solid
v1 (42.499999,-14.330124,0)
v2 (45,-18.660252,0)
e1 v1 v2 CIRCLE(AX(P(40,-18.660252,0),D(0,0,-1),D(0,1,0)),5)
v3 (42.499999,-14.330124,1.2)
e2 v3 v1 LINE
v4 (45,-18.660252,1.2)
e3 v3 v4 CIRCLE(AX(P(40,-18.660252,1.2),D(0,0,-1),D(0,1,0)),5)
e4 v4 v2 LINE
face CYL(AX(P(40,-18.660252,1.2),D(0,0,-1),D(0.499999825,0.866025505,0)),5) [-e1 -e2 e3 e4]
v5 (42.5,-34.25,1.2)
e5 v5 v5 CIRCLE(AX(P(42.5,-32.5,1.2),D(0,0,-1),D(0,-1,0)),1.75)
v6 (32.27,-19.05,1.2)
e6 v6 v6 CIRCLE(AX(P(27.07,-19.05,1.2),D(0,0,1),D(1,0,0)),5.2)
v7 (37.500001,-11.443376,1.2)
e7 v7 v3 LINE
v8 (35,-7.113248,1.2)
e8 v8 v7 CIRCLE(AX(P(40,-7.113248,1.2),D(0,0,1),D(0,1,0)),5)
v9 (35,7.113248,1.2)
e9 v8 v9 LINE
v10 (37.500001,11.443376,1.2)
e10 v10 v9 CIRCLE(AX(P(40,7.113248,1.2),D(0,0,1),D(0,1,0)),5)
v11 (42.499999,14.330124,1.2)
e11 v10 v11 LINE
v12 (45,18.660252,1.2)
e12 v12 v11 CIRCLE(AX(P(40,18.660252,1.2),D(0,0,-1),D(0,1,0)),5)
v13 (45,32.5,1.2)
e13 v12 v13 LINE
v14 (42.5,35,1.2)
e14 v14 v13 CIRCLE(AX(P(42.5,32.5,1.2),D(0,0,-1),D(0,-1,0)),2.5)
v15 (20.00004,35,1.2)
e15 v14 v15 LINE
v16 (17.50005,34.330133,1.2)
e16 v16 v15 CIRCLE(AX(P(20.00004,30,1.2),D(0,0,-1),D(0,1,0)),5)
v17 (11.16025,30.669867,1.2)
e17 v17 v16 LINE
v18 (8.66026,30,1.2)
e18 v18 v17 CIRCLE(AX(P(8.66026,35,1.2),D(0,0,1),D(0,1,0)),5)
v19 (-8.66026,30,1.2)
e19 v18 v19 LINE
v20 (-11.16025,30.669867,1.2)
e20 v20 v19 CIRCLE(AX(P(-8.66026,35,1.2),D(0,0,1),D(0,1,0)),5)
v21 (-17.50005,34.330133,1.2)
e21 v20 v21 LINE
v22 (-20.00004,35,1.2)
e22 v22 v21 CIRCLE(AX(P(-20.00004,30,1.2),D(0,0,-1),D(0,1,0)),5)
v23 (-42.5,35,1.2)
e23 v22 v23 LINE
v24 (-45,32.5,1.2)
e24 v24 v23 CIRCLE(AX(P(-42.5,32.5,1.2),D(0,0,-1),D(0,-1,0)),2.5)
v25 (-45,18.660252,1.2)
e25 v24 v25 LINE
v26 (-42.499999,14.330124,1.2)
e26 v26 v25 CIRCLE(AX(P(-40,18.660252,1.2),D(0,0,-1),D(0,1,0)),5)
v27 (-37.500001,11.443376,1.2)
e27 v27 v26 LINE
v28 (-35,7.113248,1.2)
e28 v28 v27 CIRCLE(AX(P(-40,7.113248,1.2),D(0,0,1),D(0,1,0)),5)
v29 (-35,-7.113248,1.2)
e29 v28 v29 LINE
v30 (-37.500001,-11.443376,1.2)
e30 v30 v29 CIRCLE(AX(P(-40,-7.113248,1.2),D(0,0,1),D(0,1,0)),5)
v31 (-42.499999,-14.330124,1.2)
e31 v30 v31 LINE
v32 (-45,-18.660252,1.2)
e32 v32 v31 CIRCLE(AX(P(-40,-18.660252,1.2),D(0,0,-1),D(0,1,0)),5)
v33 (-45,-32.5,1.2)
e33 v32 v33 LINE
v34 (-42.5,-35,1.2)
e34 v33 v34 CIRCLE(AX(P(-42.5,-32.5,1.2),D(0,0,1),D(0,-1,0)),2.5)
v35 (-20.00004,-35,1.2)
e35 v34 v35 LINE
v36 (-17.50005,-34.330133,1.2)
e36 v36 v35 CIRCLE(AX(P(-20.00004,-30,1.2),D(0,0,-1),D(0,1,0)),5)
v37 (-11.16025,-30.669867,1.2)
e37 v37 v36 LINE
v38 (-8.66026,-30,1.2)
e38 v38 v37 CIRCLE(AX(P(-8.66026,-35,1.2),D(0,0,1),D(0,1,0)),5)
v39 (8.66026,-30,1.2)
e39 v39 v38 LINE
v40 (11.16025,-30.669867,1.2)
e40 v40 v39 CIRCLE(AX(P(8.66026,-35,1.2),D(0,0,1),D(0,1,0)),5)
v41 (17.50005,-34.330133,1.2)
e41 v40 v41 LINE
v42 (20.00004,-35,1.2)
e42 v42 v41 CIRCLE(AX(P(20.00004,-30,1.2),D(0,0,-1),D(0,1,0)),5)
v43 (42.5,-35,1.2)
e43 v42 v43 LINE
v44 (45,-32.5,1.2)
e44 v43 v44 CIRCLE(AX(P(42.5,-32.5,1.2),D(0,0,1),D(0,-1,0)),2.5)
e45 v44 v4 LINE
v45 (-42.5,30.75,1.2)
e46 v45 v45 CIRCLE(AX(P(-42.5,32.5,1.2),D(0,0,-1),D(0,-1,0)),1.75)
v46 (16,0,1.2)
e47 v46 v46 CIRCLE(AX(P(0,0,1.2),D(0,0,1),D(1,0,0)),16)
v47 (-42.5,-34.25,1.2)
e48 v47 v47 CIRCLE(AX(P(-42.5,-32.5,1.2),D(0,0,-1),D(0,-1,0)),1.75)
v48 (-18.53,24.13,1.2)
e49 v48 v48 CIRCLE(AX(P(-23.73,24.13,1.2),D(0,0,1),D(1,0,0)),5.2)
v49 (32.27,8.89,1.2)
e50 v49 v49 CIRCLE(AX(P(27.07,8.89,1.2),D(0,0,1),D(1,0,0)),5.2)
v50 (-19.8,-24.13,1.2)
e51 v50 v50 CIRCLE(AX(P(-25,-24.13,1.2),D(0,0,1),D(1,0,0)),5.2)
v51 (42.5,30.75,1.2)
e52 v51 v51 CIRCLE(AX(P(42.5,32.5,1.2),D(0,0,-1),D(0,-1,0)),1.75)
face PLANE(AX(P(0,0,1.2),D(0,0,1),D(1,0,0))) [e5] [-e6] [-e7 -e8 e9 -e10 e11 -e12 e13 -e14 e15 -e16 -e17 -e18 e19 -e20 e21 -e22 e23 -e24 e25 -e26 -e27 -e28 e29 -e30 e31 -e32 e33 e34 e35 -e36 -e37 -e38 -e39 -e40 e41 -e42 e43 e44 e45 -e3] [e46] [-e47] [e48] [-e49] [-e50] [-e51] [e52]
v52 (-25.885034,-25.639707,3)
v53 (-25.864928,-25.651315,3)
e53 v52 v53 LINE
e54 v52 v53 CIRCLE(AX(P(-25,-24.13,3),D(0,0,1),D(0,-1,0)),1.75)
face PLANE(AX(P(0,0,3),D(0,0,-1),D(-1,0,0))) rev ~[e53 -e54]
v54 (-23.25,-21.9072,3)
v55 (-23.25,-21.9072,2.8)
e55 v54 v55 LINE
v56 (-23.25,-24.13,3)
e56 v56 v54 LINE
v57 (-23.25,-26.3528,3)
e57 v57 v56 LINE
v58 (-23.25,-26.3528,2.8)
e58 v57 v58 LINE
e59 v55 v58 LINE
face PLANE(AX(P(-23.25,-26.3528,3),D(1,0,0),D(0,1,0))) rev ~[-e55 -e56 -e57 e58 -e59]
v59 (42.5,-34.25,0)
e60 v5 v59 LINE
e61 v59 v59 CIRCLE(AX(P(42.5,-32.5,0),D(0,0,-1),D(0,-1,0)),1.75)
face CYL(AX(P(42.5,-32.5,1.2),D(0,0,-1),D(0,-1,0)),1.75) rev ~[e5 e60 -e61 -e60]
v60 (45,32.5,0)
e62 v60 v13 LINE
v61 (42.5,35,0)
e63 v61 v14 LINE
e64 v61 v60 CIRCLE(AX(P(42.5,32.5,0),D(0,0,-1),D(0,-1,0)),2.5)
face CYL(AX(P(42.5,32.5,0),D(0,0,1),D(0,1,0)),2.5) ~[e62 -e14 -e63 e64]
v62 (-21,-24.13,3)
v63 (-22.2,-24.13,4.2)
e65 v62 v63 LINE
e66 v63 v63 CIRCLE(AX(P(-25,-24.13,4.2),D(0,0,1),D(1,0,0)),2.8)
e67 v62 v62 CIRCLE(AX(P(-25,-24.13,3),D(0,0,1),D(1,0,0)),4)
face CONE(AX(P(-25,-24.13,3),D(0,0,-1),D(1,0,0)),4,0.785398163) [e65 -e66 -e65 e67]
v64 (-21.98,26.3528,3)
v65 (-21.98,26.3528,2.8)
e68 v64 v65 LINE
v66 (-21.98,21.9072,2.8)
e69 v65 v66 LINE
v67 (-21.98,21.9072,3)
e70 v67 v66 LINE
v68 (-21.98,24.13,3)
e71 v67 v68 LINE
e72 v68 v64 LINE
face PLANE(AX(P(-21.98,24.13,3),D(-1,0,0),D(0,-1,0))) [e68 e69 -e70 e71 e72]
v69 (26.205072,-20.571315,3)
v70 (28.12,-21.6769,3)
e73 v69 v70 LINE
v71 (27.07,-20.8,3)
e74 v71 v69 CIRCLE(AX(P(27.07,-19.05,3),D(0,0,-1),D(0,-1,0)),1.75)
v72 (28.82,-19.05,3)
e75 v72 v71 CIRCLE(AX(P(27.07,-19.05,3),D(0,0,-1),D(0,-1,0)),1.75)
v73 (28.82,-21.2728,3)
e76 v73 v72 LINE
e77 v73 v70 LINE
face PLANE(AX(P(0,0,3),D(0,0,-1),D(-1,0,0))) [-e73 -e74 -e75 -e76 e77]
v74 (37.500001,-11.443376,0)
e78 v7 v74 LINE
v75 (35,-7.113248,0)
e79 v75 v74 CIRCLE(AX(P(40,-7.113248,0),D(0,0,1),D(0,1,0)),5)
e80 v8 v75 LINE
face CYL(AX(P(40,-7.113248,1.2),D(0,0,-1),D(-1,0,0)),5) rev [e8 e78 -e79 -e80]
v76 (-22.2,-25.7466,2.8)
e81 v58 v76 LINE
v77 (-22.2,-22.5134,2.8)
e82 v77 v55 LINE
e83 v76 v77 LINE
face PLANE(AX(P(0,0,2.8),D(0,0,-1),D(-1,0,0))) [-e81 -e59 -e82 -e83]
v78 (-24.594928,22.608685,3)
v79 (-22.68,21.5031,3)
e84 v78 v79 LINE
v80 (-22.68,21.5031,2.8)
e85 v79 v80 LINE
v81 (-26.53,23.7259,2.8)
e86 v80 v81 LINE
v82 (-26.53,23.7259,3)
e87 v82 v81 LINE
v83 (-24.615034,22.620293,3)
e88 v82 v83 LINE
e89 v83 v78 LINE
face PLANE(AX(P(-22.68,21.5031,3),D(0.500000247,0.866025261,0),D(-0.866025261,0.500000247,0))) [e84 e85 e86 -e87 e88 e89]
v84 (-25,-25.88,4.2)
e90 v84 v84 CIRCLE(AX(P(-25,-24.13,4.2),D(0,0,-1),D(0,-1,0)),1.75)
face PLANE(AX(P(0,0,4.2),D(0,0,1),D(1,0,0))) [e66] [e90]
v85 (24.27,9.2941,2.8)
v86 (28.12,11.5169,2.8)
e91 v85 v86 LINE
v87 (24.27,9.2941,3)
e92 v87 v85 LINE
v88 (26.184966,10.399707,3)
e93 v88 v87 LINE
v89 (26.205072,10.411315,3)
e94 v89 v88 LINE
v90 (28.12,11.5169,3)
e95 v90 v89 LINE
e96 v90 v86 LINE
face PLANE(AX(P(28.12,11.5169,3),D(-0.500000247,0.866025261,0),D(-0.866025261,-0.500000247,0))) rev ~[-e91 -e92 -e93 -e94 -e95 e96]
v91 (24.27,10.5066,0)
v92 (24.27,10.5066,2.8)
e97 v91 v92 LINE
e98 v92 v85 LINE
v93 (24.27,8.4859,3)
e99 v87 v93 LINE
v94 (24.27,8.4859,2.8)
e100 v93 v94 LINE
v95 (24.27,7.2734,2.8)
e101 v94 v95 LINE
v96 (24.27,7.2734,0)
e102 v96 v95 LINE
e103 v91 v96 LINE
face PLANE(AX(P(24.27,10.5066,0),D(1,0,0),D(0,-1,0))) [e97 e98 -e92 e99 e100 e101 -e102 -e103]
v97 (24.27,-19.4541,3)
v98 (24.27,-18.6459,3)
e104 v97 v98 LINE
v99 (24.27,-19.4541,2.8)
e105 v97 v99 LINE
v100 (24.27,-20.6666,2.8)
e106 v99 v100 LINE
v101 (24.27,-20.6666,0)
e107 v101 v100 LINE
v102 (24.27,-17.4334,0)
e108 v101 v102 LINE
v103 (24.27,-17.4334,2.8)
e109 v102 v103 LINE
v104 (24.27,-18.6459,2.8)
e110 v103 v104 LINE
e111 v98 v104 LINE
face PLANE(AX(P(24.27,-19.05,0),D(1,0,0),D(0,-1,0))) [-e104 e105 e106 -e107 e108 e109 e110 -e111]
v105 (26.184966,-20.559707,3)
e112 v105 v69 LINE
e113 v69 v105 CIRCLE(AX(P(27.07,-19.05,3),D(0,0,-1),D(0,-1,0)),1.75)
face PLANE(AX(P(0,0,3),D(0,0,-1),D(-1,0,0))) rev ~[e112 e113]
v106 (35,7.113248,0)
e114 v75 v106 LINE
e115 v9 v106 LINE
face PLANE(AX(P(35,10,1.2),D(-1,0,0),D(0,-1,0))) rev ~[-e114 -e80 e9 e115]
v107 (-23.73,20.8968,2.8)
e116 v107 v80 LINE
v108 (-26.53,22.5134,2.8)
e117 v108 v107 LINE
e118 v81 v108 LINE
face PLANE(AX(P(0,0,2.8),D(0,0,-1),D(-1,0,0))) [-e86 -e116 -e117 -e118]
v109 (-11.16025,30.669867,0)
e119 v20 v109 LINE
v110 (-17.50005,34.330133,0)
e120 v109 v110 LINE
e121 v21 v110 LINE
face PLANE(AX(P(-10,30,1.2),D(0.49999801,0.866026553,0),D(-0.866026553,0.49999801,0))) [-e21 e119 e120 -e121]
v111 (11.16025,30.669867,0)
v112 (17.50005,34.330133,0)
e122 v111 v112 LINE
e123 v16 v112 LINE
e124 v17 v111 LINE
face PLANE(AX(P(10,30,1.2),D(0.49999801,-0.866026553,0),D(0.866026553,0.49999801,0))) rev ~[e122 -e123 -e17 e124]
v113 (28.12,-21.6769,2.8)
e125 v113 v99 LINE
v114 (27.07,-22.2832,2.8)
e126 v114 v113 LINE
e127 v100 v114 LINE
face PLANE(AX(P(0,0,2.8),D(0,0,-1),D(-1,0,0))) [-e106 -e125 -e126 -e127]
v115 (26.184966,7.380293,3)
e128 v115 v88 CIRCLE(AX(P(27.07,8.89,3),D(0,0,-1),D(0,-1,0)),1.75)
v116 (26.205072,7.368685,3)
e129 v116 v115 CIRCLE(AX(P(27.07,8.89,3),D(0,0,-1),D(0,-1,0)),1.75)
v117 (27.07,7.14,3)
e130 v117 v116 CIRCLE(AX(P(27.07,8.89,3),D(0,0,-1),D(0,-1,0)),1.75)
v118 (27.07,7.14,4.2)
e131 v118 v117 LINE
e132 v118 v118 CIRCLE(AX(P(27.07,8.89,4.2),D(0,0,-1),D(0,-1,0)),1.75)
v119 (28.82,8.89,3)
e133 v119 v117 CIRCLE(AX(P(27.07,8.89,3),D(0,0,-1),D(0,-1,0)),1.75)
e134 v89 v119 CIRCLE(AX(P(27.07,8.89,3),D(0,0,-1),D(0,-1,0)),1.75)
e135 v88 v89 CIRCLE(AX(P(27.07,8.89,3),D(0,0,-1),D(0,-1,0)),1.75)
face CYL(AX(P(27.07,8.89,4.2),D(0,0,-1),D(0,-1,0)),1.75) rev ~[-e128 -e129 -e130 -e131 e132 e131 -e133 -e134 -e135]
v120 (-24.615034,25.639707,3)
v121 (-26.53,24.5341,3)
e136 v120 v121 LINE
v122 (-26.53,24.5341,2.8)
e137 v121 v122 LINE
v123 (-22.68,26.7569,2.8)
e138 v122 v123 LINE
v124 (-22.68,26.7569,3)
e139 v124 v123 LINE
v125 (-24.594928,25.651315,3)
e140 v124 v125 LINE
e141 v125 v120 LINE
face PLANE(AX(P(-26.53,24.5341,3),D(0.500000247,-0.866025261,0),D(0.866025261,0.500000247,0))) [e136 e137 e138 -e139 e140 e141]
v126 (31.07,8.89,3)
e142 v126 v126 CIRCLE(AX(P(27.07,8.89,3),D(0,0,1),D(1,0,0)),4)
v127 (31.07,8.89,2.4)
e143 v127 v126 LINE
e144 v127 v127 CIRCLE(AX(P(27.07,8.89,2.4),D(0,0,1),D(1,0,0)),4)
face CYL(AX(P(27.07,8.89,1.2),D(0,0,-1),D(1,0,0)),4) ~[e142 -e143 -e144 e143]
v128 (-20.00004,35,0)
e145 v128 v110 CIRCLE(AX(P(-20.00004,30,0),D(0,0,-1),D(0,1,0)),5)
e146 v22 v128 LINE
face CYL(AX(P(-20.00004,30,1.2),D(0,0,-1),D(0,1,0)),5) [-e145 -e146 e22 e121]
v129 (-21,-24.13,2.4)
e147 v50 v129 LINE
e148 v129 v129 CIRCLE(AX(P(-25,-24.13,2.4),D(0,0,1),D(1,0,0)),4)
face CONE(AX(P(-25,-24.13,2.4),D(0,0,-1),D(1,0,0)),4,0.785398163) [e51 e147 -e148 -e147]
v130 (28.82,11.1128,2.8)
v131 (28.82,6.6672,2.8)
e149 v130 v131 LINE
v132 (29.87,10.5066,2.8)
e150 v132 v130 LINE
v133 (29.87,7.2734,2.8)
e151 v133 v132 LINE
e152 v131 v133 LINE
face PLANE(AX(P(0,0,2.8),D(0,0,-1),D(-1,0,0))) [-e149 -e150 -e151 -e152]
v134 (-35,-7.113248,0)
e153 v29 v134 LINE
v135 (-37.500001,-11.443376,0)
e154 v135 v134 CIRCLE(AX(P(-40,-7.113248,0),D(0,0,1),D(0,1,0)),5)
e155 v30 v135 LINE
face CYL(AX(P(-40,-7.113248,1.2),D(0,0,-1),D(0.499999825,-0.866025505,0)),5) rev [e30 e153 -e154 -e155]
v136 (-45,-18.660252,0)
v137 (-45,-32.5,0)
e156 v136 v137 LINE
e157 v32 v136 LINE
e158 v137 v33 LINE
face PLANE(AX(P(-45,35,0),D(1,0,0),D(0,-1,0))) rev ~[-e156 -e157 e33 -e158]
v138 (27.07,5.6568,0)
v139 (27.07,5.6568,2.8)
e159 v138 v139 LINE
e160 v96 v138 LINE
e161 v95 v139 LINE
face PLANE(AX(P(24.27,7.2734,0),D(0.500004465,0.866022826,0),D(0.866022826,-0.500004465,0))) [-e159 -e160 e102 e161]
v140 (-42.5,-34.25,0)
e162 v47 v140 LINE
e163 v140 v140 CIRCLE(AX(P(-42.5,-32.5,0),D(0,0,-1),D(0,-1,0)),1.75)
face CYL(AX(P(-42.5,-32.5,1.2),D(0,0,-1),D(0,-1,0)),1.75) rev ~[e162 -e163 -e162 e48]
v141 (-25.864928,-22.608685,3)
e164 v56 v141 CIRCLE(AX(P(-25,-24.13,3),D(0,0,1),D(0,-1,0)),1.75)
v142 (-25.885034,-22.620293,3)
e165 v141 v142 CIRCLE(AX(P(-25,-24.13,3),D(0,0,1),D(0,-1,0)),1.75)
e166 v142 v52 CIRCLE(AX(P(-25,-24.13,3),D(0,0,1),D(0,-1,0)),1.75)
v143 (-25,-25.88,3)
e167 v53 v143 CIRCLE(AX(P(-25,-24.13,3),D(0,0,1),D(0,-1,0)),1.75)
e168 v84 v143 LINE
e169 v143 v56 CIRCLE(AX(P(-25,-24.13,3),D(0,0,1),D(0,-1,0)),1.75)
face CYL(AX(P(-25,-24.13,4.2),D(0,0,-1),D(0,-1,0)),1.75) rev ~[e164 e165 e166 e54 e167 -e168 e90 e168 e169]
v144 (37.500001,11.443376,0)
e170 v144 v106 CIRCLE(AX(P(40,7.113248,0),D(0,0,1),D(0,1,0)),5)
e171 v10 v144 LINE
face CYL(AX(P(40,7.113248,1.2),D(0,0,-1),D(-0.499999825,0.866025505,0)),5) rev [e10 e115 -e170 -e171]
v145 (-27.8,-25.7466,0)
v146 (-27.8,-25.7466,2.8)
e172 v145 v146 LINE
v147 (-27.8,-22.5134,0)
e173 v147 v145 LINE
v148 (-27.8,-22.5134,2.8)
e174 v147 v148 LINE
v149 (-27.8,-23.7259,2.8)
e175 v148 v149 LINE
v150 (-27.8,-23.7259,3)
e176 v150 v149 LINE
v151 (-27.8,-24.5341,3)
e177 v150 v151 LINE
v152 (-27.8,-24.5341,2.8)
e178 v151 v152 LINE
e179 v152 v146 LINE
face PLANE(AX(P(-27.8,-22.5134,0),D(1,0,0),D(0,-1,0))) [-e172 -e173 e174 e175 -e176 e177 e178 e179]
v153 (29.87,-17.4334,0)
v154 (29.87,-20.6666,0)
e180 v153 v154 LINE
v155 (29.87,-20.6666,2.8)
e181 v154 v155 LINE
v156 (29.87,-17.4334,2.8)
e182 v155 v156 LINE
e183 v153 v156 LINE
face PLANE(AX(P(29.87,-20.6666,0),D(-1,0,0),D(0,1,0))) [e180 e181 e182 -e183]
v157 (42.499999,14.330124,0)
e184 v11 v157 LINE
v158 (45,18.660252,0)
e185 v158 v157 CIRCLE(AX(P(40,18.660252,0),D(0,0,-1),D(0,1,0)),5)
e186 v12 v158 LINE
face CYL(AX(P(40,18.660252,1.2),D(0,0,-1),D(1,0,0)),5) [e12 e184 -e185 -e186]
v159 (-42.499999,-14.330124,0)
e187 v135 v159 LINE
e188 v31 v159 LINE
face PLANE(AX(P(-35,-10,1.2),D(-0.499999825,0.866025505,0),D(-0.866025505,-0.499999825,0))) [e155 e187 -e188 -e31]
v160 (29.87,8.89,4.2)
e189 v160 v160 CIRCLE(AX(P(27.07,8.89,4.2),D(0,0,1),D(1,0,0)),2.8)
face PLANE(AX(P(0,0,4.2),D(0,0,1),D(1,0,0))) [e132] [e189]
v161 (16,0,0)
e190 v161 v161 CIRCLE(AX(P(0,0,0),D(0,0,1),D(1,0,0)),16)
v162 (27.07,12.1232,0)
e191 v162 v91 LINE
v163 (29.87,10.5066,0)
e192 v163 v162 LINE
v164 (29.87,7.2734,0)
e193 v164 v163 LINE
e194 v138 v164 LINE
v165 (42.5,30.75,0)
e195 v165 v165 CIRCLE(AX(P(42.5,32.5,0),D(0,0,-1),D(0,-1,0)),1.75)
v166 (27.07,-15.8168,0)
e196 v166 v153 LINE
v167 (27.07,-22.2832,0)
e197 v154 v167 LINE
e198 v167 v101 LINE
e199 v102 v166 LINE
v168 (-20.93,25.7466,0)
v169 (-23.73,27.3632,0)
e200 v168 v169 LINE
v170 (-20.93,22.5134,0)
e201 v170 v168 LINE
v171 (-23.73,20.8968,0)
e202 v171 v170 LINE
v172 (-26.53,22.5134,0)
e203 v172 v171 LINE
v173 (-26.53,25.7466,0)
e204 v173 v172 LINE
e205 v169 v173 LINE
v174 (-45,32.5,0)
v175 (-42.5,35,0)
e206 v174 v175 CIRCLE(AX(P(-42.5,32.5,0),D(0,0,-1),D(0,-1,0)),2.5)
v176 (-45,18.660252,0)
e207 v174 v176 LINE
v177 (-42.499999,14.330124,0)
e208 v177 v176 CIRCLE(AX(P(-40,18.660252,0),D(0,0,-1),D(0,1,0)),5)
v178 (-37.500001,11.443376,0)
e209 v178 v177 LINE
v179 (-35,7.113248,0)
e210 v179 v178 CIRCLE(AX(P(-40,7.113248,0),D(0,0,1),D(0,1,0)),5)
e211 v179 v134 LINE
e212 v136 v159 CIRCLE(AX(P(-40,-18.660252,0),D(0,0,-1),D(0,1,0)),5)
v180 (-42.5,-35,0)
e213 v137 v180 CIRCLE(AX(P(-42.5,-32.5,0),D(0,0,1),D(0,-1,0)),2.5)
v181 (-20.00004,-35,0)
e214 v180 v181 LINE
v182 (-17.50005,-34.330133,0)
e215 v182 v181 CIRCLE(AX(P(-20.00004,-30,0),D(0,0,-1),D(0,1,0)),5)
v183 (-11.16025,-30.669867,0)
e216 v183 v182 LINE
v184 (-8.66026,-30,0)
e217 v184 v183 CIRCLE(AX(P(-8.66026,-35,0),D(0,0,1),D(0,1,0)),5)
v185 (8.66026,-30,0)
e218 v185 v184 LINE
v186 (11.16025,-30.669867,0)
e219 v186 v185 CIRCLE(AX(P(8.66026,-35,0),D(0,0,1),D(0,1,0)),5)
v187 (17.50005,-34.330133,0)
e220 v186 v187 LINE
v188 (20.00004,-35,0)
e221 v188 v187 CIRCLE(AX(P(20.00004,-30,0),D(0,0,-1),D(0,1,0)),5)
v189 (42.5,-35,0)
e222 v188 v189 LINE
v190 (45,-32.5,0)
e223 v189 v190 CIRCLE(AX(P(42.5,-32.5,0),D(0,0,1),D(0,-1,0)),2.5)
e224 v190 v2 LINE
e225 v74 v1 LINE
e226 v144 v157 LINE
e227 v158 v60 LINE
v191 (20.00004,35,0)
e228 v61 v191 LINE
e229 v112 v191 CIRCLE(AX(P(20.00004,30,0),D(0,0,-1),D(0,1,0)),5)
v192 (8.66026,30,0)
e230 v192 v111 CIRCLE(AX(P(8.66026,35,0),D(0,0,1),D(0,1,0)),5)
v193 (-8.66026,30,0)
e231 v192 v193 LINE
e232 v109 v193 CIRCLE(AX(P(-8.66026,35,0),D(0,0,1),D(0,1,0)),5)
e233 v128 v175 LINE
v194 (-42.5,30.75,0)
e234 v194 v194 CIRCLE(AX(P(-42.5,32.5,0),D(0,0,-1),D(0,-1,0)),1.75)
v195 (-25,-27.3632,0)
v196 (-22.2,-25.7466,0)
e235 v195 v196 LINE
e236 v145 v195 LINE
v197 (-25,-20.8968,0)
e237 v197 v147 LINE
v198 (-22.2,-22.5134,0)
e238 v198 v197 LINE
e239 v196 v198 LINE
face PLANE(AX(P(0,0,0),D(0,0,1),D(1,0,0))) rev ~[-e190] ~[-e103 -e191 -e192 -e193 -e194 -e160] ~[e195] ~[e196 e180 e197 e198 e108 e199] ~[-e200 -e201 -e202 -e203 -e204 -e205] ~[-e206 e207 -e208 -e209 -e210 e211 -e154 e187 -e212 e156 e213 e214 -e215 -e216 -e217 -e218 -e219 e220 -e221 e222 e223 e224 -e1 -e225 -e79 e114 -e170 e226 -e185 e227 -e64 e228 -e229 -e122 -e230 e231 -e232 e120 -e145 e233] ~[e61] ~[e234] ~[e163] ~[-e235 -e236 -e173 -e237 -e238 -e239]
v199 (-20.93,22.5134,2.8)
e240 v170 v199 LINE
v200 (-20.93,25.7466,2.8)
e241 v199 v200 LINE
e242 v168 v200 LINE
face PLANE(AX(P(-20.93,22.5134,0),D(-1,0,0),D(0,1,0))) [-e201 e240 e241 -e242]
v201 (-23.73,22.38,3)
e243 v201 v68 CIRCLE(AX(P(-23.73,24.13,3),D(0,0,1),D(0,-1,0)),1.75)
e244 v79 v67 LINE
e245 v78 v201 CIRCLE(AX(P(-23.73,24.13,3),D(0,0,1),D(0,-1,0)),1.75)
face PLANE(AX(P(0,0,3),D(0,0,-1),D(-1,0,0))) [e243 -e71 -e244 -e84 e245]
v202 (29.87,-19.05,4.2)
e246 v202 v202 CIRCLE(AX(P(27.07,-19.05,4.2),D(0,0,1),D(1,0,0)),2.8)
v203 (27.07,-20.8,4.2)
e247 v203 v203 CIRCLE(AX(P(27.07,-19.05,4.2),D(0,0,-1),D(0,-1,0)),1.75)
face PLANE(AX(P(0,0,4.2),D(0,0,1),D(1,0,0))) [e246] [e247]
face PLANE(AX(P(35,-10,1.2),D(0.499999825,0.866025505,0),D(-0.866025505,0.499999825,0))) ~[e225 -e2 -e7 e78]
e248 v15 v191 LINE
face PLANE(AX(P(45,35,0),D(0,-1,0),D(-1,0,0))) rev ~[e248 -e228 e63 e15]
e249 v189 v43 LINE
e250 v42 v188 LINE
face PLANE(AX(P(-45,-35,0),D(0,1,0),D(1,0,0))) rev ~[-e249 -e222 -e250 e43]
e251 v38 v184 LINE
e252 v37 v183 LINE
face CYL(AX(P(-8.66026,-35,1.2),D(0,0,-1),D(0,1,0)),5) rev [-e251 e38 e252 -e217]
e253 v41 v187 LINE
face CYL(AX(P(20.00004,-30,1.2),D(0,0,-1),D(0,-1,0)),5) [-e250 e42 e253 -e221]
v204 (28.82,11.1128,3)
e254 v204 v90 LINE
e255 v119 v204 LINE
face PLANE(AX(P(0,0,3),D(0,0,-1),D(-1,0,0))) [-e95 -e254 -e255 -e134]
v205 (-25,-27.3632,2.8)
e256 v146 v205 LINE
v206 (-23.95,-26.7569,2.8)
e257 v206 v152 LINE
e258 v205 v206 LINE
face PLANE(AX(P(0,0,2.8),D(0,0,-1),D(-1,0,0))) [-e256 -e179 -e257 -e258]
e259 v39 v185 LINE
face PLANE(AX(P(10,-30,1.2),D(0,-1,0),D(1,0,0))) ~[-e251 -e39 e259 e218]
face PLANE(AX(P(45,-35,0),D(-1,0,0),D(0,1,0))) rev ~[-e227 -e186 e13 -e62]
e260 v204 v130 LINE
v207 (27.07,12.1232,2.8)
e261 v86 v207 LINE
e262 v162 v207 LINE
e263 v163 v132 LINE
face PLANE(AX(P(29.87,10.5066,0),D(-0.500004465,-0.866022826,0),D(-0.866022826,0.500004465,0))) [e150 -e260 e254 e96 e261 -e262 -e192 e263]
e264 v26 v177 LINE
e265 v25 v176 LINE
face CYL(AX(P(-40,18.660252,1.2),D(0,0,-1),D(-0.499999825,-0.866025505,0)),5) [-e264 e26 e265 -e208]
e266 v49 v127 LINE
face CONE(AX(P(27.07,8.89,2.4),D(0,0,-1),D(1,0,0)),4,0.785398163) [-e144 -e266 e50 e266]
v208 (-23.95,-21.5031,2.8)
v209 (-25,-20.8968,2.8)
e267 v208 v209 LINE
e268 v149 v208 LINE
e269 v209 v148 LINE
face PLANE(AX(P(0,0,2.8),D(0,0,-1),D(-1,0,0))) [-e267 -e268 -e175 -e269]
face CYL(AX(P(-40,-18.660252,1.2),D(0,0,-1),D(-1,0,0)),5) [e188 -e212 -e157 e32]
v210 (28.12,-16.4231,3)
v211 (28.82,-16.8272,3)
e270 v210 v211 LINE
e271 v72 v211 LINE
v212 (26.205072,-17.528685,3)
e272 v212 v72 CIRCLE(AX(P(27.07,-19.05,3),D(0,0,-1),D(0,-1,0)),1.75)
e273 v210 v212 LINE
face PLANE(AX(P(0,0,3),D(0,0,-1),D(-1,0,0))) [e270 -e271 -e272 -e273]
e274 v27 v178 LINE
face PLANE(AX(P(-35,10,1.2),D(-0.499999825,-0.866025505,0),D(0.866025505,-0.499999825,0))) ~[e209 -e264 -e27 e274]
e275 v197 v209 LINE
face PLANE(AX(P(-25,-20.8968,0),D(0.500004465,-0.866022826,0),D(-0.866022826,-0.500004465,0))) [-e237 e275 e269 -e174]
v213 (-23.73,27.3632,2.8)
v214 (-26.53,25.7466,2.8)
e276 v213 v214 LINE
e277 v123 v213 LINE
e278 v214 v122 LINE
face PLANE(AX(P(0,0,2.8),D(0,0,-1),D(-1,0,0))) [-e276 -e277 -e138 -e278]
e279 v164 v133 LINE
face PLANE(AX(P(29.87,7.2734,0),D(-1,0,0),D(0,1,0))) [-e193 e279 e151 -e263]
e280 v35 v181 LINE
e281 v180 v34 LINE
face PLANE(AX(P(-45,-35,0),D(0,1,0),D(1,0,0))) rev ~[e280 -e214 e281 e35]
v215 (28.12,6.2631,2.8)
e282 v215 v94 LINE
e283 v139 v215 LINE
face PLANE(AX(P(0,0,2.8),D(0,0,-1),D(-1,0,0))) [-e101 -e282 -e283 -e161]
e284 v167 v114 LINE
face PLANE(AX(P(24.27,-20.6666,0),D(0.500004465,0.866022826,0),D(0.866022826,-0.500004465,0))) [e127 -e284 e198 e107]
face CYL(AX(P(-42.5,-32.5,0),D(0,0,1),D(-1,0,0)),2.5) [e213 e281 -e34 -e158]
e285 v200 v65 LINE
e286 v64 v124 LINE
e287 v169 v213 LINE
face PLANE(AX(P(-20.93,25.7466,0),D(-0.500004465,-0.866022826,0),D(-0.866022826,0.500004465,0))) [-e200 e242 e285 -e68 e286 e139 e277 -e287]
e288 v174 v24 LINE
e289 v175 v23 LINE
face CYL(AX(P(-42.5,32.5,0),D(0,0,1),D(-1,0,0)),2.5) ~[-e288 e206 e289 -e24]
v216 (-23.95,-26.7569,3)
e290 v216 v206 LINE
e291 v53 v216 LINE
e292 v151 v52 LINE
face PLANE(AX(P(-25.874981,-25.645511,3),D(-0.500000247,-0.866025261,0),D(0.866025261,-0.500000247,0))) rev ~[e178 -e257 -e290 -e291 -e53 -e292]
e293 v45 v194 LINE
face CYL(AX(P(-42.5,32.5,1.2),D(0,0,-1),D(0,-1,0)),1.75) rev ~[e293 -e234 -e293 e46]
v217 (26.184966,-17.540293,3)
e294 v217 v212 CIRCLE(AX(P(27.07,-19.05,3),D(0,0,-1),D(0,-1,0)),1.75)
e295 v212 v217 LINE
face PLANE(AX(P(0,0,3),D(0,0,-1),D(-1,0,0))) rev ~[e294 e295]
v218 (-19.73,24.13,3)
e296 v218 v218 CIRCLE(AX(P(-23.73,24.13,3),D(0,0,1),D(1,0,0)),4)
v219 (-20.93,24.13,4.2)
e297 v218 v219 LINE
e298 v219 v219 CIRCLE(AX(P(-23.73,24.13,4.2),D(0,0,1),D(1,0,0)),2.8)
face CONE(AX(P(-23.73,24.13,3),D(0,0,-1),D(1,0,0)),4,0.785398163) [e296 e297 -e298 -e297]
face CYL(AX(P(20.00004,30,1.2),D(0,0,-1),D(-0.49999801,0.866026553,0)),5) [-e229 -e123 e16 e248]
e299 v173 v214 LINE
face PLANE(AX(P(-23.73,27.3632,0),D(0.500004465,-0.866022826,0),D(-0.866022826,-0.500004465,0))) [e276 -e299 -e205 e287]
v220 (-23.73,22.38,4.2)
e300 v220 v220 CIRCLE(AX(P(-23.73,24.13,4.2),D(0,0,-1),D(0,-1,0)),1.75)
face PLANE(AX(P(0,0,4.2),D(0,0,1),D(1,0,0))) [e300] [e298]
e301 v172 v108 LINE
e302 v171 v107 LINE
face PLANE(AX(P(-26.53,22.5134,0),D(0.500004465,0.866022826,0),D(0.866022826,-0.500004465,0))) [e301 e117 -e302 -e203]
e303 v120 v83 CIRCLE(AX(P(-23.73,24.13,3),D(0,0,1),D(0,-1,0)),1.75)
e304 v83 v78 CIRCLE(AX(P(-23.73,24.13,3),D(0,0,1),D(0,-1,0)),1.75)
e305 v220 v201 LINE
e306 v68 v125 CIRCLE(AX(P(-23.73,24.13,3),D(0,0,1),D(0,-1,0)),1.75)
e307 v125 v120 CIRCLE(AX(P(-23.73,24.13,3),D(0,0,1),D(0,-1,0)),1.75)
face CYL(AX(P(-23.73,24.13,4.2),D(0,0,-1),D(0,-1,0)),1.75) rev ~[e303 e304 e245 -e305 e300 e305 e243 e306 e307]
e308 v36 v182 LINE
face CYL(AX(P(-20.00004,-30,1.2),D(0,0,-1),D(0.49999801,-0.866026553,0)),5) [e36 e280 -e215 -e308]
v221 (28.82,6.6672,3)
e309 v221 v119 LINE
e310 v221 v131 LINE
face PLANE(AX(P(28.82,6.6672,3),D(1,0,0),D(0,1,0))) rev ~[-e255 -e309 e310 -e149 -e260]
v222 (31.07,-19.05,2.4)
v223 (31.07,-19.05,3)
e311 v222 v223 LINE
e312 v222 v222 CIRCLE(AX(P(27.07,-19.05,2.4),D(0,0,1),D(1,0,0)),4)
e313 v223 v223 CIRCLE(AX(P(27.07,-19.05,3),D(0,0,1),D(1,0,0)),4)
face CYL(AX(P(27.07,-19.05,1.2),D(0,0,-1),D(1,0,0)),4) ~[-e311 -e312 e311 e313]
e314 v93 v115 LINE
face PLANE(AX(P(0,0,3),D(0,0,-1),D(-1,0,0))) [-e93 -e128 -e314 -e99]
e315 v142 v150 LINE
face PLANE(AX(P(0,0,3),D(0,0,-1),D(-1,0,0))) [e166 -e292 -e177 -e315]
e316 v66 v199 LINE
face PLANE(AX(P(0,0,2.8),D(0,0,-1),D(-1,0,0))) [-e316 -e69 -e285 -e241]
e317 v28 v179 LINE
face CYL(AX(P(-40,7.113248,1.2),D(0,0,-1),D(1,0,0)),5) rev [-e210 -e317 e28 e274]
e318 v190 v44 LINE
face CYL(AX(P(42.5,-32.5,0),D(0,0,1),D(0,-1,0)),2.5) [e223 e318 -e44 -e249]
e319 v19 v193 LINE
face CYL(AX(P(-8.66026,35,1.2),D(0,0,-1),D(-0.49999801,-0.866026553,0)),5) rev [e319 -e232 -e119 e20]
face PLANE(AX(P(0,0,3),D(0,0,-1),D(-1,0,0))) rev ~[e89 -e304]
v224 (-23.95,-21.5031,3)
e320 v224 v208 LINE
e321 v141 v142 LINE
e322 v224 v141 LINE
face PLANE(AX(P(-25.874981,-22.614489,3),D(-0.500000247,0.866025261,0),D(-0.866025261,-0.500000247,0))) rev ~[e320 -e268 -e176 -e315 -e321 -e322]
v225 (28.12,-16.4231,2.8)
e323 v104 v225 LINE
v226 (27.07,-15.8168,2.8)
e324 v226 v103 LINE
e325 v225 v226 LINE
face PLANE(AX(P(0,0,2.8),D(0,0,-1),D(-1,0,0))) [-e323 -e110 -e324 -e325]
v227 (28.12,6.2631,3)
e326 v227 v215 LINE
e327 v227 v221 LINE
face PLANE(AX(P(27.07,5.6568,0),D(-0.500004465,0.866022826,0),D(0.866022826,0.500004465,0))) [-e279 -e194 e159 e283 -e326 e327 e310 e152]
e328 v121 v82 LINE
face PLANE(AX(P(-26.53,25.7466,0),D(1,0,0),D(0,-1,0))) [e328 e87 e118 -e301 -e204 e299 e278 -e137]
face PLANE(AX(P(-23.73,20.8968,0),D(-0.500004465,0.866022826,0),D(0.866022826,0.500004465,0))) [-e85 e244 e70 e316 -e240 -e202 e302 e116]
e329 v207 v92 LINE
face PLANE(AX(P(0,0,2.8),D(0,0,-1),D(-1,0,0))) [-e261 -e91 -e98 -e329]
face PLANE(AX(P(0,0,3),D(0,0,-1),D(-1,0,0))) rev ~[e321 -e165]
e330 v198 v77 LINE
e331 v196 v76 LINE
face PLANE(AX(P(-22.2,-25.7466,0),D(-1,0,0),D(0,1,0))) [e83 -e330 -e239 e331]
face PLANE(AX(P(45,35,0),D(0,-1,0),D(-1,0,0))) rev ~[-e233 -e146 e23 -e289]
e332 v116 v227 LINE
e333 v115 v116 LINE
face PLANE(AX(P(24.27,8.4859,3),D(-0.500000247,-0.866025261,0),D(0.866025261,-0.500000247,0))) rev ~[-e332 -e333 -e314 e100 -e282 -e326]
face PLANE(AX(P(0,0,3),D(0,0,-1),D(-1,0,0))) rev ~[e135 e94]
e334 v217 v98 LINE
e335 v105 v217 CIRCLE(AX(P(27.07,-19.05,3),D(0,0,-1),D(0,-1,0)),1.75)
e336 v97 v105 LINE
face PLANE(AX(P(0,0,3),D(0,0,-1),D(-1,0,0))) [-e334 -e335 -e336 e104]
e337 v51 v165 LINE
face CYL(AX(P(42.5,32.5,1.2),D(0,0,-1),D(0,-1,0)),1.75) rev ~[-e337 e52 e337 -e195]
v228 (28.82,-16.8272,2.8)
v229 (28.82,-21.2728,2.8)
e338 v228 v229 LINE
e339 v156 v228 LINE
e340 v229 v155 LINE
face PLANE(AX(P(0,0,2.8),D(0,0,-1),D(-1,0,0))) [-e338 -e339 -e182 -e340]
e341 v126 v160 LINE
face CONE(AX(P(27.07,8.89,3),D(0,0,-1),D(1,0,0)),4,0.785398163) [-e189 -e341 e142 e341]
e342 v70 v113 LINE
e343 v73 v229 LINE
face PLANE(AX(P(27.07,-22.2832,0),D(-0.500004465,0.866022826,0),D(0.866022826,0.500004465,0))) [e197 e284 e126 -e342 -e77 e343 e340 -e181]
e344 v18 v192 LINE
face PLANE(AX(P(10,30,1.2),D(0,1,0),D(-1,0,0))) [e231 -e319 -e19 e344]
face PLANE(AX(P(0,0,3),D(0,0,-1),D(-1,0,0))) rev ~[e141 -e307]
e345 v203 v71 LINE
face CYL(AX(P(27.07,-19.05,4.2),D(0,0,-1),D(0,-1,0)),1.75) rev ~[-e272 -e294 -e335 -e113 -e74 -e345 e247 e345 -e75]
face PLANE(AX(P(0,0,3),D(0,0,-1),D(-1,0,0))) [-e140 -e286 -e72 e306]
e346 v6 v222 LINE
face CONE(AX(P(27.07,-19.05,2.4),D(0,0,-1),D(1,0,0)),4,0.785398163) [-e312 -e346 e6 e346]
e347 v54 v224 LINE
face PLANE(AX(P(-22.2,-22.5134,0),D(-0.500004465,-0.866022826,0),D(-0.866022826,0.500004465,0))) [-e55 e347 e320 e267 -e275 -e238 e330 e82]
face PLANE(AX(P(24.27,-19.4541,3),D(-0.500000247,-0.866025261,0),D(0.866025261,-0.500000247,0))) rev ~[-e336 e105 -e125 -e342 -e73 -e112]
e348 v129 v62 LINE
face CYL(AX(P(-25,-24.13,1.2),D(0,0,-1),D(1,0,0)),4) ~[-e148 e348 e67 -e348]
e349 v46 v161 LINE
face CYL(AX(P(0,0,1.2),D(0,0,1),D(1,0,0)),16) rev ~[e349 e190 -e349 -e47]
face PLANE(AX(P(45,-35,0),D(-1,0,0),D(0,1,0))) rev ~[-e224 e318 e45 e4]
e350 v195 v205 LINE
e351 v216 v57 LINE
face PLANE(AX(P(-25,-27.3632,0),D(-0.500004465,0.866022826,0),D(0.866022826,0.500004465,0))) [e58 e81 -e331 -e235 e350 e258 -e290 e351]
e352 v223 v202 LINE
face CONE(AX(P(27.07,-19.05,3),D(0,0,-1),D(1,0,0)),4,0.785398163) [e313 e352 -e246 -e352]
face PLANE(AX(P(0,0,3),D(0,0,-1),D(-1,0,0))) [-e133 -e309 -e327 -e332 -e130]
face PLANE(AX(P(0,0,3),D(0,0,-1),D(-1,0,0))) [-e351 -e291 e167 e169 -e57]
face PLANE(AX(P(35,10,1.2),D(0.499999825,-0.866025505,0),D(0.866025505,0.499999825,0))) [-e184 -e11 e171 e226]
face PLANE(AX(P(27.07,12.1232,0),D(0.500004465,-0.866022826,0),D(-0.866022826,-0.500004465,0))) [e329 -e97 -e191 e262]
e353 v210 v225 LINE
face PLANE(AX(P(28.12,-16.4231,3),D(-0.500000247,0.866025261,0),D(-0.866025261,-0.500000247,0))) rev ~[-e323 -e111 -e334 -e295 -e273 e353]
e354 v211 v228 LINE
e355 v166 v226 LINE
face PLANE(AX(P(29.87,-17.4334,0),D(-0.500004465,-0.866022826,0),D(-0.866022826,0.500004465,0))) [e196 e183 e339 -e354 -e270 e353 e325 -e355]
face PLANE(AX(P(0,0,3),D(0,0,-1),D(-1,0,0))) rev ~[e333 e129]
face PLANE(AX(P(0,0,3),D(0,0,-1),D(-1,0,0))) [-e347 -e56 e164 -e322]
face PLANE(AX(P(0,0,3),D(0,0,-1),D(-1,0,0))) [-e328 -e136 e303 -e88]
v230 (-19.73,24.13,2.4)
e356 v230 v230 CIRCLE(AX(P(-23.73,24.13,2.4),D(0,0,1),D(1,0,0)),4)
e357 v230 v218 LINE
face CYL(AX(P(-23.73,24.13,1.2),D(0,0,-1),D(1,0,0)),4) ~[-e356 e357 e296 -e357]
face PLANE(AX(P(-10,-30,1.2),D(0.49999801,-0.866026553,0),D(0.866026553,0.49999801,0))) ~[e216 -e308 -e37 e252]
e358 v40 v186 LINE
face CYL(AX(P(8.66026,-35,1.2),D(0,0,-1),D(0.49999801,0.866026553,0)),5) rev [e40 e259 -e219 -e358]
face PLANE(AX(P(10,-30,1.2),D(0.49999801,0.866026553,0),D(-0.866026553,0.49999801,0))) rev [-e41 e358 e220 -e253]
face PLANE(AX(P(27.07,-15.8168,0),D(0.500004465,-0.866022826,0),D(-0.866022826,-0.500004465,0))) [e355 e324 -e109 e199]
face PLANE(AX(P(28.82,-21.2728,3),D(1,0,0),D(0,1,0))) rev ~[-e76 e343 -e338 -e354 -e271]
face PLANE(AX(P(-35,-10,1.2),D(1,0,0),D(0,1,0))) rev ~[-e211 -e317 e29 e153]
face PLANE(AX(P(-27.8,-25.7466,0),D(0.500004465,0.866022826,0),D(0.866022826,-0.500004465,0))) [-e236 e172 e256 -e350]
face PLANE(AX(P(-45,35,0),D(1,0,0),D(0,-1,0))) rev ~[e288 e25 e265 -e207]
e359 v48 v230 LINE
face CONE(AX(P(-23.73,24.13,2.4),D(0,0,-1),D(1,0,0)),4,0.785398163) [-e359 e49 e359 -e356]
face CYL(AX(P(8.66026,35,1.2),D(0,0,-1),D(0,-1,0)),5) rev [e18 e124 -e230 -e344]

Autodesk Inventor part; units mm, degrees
ref_plane "YZ Plane" through (0, 0, 0) normal (1, 0, 0) x (0, 1, 0)
ref_plane "XZ Plane" through (0, 0, 0) normal (0, 1, 0) x (-1, 0, 0)
ref_plane "XY Plane" through (0, 0, 0) normal (0, 0, 1) x (1, 0, 0)
sketch "スケッチ1" plane through (0, 0, 0) normal (0, 0, 1) x (1, 0, 0)
  line L0 (-45, -35) -> (45, -35)
  line L1 (45, -35) -> (45, 35)
  line L2 (45, 35) -> (-45, 35)
  line L3 (-45, 35) -> (-45, -35)
  line L4 (-45, -35) -> (45, 35) construction
  line L5 (45, -35) -> (-45, 35) construction
  point P0 (0, 0)
  dimension "d0" = 90
  dimension "d1" = 70
extrude "押し出し1" add sketch "スケッチ1" along normal blind 1.2
sketch "スケッチ2" plane through (0, 0, 1.2) normal (0, 0, 1) x (1, 0, 0)
  line L0 (-42.5, -32.5) -> (42.5, -32.5) construction
  line L1 (42.5, -32.5) -> (42.5, 32.5) construction
  line L2 (42.5, 32.5) -> (-42.5, 32.5) construction
  line L3 (-42.5, 32.5) -> (-42.5, -32.5) construction
  line L4 (-42.5, -32.5) -> (42.5, 32.5) construction
  line L5 (42.5, -32.5) -> (-42.5, 32.5) construction
  point P0 (0, 0)
  dimension "d4" = 85
  dimension "d5" = 65
hole "穴1" at (-42.5, 32.5, 1.2) at (-42.5, -32.5, 1.2) at (42.5, -32.5, 1.2) at (42.5, 32.5, 1.2) direction (0, 0, -1) diameter 3.5 end through all
sketch "スケッチ3" plane through (0, 0, 1.2) normal (0, 0, 1) x (1, 0, 0)
  circle A0 centre (-25, -24.13) radius 4
  circle A1 centre (-23.73, 24.13) radius 4
  circle A2 centre (27.07, 8.89) radius 4
  circle A3 centre (27.07, -19.05) radius 4
  point P0 (0, 0)
  dimension "d13" = 8
  dimension "d14" = 8
  dimension "d15" = 8
  dimension "d16" = 8
  dimension "d17" = 48.26
  dimension "d18" = 1.27
  dimension "d19" = 27.94
  dimension "d20" = 5.08
  dimension "d21" = 52.07
  dimension "d22" = 24.13
  dimension "d23" = 25
extrude "押し出し2" add sketch "スケッチ3" along normal blind 3
chamfer "面取り1" distance 1.2 angle 45 8 edges at (-29, -24.13, 4.2) (-27.73, 24.13, 4.2) (23.07, 8.89, 4.2) (23.07, -19.05, 4.2) (-27.73, 24.13, 1.2) (-29, -24.13, 1.2) (23.07, 8.89, 1.2) (23.07, -19.05, 1.2)
sketch "スケッチ4" plane through (-25, -24.13, 4.2) normal (0, 0, 1) x (1, 0, 0)
  circle A0 centre (1.27, 48.26) radius 2.8 projected
  circle A1 centre (0, 0) radius 2.8 projected
  circle A2 centre (52.07, 5.08) radius 2.8 projected
  circle A3 centre (52.07, 33.02) radius 2.8 projected
  point P0 (25, 24.13)
hole "穴2" at (-23.73, 24.13, 4.2) at (-25, -24.13, 4.2) at (27.07, -19.05, 4.2) at (27.07, 8.89, 4.2) direction (0, 0, -1) diameter 3.5 end through all
sketch "スケッチ5" plane through (0, 0, 0) normal (0, 0, -1) x (-1, 0, 0)
  circle A0 centre (25, -24.13) radius 1.75 projected
  circle A1 centre (23.73, 24.13) radius 1.75 projected
  circle A2 centre (-27.07, 8.89) radius 1.75 projected
  circle A3 centre (-27.07, -19.05) radius 1.75 projected
  line L0 (25, -27.3632) -> (22.2, -25.7466)
  line L1 (22.2, -25.7466) -> (22.2, -22.5134)
  line L2 (22.2, -22.5134) -> (25, -20.8968)
  line L3 (25, -20.8968) -> (27.8, -22.5134)
  line L4 (27.8, -22.5134) -> (27.8, -25.7466)
  line L5 (27.8, -25.7466) -> (25, -27.3632)
  line L6 (23.73, 20.8968) -> (20.93, 22.5134)
  line L7 (20.93, 22.5134) -> (20.93, 25.7466)
  line L8 (20.93, 25.7466) -> (23.73, 27.3632)
  line L9 (23.73, 27.3632) -> (26.53, 25.7466)
  line L10 (26.53, 25.7466) -> (26.53, 22.5134)
  line L11 (26.53, 22.5134) -> (23.73, 20.8968)
  circle A4 centre (-27.07, -19.05) radius 2.8 projected
  line L12 (-27.07, -22.2832) -> (-29.87, -20.6666)
  line L13 (-29.87, -20.6666) -> (-29.87, -17.4334)
  line L14 (-29.87, -17.4334) -> (-27.07, -15.8168)
  line L15 (-27.07, -15.8168) -> (-24.27, -17.4334)
  line L16 (-24.27, -17.4334) -> (-24.27, -20.6666)
  line L17 (-24.27, -20.6666) -> (-27.07, -22.2832)
  line L18 (-27.07, 5.6568) -> (-29.87, 7.2734)
  line L19 (-29.87, 7.2734) -> (-29.87, 10.5066)
  line L20 (-29.87, 10.5066) -> (-27.07, 12.1232)
  line L21 (-27.07, 12.1232) -> (-24.27, 10.5066)
  line L22 (-24.27, 10.5066) -> (-24.27, 7.2734)
  line L23 (-24.27, 7.2734) -> (-27.07, 5.6568)
  point P0 (0, 0)
  dimension "d36" = 5.6
  dimension "d37" = 5.6
  dimension "d38" = 5.6
  dimension "d39" = 5.6
extrude "押し出し3" cut sketch "スケッチ5" against normal blind 3 contours A2 | A3 | L0 L1 L2 L3 L4 L5 | L6 L7 L8 L9 L10 L11 | A4 | L16 L17 A4 | A4 L15 L16 | A4 L14 L15 | L17 L12 A4 | A4 L13 L14 | L12 L13 A4 | L18 L19 L20 L21 L22 L23
sketch "スケッチ6" plane through (0, 0, 3) normal (0, 0, -1) x (-1, 0, 0)
  line L0 (27.8, -22.5134) -> (27.8, -25.7466) projected
  line L1 (25, -20.8968) -> (27.8, -22.5134) projected
  line L2 (22.2, -22.5134) -> (25, -20.8968) projected
  line L3 (22.2, -25.7466) -> (22.2, -22.5134) projected
  line L4 (25, -27.3632) -> (22.2, -25.7466) projected
  line L5 (27.8, -25.7466) -> (25, -27.3632) projected
  circle A0 centre (25, -24.13) radius 1.75 projected
  line L6 (26.53, 25.7466) -> (26.53, 22.5134) projected
  line L7 (23.73, 27.3632) -> (26.53, 25.7466) projected
  line L8 (20.93, 25.7466) -> (23.73, 27.3632) projected
  line L9 (20.93, 22.5134) -> (20.93, 25.7466) projected
  line L10 (23.73, 20.8968) -> (20.93, 22.5134) projected
  line L11 (26.53, 22.5134) -> (23.73, 20.8968) projected
  circle A1 centre (23.73, 24.13) radius 1.75 projected
  circle A2 centre (-27.07, 8.89) radius 1.75 projected
  line L12 (-24.27, 10.5066) -> (-24.27, 7.2734) projected
  line L13 (-27.07, 12.1232) -> (-24.27, 10.5066) projected
  line L14 (-29.87, 10.5066) -> (-27.07, 12.1232) projected
  line L15 (-29.87, 7.2734) -> (-29.87, 10.5066) projected
  line L16 (-27.07, 5.6568) -> (-29.87, 7.2734) projected
  line L17 (-24.27, 7.2734) -> (-27.07, 5.6568) projected
  circle A3 centre (-27.07, -19.05) radius 1.75 projected
  line L18 (-29.87, -20.6666) -> (-29.87, -17.4334) projected
  line L19 (-27.07, -22.2832) -> (-29.87, -20.6666) projected
  line L20 (-24.27, -20.6666) -> (-27.07, -22.2832) projected
  line L21 (-24.27, -17.4334) -> (-24.27, -20.6666) projected
  line L22 (-27.07, -15.8168) -> (-24.27, -17.4334) projected
  line L23 (-29.87, -17.4334) -> (-27.07, -15.8168) projected
  line L24 (27.8, -22.5134) -> (27.8, -25.7466) projected
  line L25 (27.8, -24.5341) -> (23.95, -26.7569)
  line L26 (23.25, -26.3528) -> (23.25, -21.9072)
  line L27 (23.95, -21.5031) -> (27.8, -23.7259)
  line L28 (27.8, -25.7466) -> (25, -27.3632) projected
  line L29 (25, -20.8968) -> (27.8, -22.5134) projected
  circle A4 centre (25, -24.13) radius 1.75 projected
  line L30 (20.93, 25.7466) -> (23.73, 27.3632) projected
  line L31 (21.98, 26.3528) -> (21.98, 21.9072)
  line L32 (22.68, 21.5031) -> (26.53, 23.7259)
  line L33 (26.53, 25.7466) -> (26.53, 22.5134) projected
  line L34 (26.53, 24.5341) -> (22.68, 26.7569)
  line L35 (26.53, 22.5134) -> (23.73, 20.8968) projected
  line L36 (23.73, 27.3632) -> (26.53, 25.7466) projected
  circle A5 centre (23.73, 24.13) radius 1.75 projected
  line L37 (-28.82, 6.6672) -> (-28.82, 11.1128)
  line L38 (-28.12, 11.5169) -> (-24.27, 9.2941)
  line L39 (-24.27, 10.5066) -> (-24.27, 7.2734) projected
  line L40 (-24.27, 8.4859) -> (-28.12, 6.2631)
  line L41 (-27.07, 12.1232) -> (-24.27, 10.5066) projected
  line L42 (-24.27, 7.2734) -> (-27.07, 5.6568) projected
  circle A6 centre (-27.07, 8.89) radius 1.75 projected
  line L43 (-24.27, -19.4541) -> (-28.12, -21.6769)
  line L44 (-28.82, -21.2728) -> (-28.82, -16.8272)
  line L45 (-28.12, -16.4231) -> (-24.27, -18.6459)
  line L46 (-24.27, -20.6666) -> (-27.07, -22.2832) projected
  line L47 (-27.07, -15.8168) -> (-24.27, -17.4334) projected
  circle A7 centre (-27.07, -19.05) radius 1.75 projected
  point P0 (0, 0)
  point P1 (-24.27, 8.4859)
  point P2 (26.53, 23.7259)
  point P3 (27.8, -24.5341)
extrude "押し出し4" add sketch "スケッチ6" along normal blind 0.2 contours L0 L27 L2 L1 | L0 L5 L4 L25 | L26 L4 L3 L2 | L6 L34 L8 L7 | L6 L11 L10 L32 | L31 L10 L9 L8 | L38 L14 L13 L12 | L40 L12 L17 L16 | L37 L16 L15 L14 | L45 L23 L22 L21 | L43 L21 L20 L19 | L44 L19 L18 L23
fillet "フィレット1" radius 2.5 4 edges at (-45, -35, 0.6) (-45, 35, 0.6) (45, -35, 0.6) (45, 35, 0.6)
sketch "スケッチ7" plane through (0, 0, 1.2) normal (0, 0, 1) x (1, 0, 0)
  line L0 (42.5, 35) -> (-42.5, 35) projected
  line L1 (-10, 35) -> (10, 35)
  line L2 (10, 35) -> (10, 30)
  line L3 (10, 30) -> (-10, 30)
  line L4 (-10, 30) -> (-10, 35)
  line L5 (-10, 30) -> (-18.6603, 35)
  line L6 (10, 30) -> (18.6603, 35)
  line L7 (45, -32.5) -> (45, 32.5) projected
  line L8 (45, 10) -> (35, 10)
  line L9 (35, 10) -> (35, -10)
  line L10 (35, -10) -> (45, -10)
  line L11 (45, -10) -> (45, 10)
  line L12 (35, 10) -> (45, 15.7735)
  line L13 (45, 0) -> (35, 0)
  point P0 (0, 0)
  point P1 (0, 35)
  dimension "d45" = 20
  dimension "d46" = 5
  dimension "d47" = 30
  dimension "d48" = 30
  dimension "d52" = 20
  dimension "d53" = 10
extrude "押し出し5" cut sketch "スケッチ7" against normal through all contours L6 L2 L0 | L2 L3 L4 L0 | L4 L5 L0 | L13 L9 L8 L7 | L8 L12 L7
mirror "ミラー1" about plane through (0, 0, 0) normal (0, 1, 0) of "押し出し5"
mirror "ミラー2" about plane through (0, 0, 0) normal (1, 0, 0) of "押し出し5", "ミラー1"
fillet "フィレット2" radius 5 16 edges at (-18.6603, -35, 0.6) (-10, -30, 0.6) (10, -30, 0.6) (18.6603, -35, 0.6) (10, 30, 0.6) (-10, 30, 0.6) (-18.6603, 35, 0.6) (18.6603, 35, 0.6) (-45, -15.7735, 0.6) (-35, -10, 0.6) (-35, 10, 0.6) (-45, 15.7735, 0.6) (45, -15.7735, 0.6) (35, -10, 0.6) (35, 10, 0.6) (45, 15.7735, 0.6)
sketch "スケッチ8" plane through (0, 0, 1.2) normal (0, 0, 1) x (1, 0, 0)
  circle A0 centre (0, 0) radius 16
  dimension "d54" = 32
extrude "押し出し6" cut sketch "スケッチ8" against normal through all
equation "\"d22\" = 0.5 * d17"
equation "\"d37\" = d36"
equation "\"d38\" = d36"
equation "\"d39\" = d36"
equation "\"d48\" = d47"
properties part number "3D_circuit-fix_arduino_3D プリント"
